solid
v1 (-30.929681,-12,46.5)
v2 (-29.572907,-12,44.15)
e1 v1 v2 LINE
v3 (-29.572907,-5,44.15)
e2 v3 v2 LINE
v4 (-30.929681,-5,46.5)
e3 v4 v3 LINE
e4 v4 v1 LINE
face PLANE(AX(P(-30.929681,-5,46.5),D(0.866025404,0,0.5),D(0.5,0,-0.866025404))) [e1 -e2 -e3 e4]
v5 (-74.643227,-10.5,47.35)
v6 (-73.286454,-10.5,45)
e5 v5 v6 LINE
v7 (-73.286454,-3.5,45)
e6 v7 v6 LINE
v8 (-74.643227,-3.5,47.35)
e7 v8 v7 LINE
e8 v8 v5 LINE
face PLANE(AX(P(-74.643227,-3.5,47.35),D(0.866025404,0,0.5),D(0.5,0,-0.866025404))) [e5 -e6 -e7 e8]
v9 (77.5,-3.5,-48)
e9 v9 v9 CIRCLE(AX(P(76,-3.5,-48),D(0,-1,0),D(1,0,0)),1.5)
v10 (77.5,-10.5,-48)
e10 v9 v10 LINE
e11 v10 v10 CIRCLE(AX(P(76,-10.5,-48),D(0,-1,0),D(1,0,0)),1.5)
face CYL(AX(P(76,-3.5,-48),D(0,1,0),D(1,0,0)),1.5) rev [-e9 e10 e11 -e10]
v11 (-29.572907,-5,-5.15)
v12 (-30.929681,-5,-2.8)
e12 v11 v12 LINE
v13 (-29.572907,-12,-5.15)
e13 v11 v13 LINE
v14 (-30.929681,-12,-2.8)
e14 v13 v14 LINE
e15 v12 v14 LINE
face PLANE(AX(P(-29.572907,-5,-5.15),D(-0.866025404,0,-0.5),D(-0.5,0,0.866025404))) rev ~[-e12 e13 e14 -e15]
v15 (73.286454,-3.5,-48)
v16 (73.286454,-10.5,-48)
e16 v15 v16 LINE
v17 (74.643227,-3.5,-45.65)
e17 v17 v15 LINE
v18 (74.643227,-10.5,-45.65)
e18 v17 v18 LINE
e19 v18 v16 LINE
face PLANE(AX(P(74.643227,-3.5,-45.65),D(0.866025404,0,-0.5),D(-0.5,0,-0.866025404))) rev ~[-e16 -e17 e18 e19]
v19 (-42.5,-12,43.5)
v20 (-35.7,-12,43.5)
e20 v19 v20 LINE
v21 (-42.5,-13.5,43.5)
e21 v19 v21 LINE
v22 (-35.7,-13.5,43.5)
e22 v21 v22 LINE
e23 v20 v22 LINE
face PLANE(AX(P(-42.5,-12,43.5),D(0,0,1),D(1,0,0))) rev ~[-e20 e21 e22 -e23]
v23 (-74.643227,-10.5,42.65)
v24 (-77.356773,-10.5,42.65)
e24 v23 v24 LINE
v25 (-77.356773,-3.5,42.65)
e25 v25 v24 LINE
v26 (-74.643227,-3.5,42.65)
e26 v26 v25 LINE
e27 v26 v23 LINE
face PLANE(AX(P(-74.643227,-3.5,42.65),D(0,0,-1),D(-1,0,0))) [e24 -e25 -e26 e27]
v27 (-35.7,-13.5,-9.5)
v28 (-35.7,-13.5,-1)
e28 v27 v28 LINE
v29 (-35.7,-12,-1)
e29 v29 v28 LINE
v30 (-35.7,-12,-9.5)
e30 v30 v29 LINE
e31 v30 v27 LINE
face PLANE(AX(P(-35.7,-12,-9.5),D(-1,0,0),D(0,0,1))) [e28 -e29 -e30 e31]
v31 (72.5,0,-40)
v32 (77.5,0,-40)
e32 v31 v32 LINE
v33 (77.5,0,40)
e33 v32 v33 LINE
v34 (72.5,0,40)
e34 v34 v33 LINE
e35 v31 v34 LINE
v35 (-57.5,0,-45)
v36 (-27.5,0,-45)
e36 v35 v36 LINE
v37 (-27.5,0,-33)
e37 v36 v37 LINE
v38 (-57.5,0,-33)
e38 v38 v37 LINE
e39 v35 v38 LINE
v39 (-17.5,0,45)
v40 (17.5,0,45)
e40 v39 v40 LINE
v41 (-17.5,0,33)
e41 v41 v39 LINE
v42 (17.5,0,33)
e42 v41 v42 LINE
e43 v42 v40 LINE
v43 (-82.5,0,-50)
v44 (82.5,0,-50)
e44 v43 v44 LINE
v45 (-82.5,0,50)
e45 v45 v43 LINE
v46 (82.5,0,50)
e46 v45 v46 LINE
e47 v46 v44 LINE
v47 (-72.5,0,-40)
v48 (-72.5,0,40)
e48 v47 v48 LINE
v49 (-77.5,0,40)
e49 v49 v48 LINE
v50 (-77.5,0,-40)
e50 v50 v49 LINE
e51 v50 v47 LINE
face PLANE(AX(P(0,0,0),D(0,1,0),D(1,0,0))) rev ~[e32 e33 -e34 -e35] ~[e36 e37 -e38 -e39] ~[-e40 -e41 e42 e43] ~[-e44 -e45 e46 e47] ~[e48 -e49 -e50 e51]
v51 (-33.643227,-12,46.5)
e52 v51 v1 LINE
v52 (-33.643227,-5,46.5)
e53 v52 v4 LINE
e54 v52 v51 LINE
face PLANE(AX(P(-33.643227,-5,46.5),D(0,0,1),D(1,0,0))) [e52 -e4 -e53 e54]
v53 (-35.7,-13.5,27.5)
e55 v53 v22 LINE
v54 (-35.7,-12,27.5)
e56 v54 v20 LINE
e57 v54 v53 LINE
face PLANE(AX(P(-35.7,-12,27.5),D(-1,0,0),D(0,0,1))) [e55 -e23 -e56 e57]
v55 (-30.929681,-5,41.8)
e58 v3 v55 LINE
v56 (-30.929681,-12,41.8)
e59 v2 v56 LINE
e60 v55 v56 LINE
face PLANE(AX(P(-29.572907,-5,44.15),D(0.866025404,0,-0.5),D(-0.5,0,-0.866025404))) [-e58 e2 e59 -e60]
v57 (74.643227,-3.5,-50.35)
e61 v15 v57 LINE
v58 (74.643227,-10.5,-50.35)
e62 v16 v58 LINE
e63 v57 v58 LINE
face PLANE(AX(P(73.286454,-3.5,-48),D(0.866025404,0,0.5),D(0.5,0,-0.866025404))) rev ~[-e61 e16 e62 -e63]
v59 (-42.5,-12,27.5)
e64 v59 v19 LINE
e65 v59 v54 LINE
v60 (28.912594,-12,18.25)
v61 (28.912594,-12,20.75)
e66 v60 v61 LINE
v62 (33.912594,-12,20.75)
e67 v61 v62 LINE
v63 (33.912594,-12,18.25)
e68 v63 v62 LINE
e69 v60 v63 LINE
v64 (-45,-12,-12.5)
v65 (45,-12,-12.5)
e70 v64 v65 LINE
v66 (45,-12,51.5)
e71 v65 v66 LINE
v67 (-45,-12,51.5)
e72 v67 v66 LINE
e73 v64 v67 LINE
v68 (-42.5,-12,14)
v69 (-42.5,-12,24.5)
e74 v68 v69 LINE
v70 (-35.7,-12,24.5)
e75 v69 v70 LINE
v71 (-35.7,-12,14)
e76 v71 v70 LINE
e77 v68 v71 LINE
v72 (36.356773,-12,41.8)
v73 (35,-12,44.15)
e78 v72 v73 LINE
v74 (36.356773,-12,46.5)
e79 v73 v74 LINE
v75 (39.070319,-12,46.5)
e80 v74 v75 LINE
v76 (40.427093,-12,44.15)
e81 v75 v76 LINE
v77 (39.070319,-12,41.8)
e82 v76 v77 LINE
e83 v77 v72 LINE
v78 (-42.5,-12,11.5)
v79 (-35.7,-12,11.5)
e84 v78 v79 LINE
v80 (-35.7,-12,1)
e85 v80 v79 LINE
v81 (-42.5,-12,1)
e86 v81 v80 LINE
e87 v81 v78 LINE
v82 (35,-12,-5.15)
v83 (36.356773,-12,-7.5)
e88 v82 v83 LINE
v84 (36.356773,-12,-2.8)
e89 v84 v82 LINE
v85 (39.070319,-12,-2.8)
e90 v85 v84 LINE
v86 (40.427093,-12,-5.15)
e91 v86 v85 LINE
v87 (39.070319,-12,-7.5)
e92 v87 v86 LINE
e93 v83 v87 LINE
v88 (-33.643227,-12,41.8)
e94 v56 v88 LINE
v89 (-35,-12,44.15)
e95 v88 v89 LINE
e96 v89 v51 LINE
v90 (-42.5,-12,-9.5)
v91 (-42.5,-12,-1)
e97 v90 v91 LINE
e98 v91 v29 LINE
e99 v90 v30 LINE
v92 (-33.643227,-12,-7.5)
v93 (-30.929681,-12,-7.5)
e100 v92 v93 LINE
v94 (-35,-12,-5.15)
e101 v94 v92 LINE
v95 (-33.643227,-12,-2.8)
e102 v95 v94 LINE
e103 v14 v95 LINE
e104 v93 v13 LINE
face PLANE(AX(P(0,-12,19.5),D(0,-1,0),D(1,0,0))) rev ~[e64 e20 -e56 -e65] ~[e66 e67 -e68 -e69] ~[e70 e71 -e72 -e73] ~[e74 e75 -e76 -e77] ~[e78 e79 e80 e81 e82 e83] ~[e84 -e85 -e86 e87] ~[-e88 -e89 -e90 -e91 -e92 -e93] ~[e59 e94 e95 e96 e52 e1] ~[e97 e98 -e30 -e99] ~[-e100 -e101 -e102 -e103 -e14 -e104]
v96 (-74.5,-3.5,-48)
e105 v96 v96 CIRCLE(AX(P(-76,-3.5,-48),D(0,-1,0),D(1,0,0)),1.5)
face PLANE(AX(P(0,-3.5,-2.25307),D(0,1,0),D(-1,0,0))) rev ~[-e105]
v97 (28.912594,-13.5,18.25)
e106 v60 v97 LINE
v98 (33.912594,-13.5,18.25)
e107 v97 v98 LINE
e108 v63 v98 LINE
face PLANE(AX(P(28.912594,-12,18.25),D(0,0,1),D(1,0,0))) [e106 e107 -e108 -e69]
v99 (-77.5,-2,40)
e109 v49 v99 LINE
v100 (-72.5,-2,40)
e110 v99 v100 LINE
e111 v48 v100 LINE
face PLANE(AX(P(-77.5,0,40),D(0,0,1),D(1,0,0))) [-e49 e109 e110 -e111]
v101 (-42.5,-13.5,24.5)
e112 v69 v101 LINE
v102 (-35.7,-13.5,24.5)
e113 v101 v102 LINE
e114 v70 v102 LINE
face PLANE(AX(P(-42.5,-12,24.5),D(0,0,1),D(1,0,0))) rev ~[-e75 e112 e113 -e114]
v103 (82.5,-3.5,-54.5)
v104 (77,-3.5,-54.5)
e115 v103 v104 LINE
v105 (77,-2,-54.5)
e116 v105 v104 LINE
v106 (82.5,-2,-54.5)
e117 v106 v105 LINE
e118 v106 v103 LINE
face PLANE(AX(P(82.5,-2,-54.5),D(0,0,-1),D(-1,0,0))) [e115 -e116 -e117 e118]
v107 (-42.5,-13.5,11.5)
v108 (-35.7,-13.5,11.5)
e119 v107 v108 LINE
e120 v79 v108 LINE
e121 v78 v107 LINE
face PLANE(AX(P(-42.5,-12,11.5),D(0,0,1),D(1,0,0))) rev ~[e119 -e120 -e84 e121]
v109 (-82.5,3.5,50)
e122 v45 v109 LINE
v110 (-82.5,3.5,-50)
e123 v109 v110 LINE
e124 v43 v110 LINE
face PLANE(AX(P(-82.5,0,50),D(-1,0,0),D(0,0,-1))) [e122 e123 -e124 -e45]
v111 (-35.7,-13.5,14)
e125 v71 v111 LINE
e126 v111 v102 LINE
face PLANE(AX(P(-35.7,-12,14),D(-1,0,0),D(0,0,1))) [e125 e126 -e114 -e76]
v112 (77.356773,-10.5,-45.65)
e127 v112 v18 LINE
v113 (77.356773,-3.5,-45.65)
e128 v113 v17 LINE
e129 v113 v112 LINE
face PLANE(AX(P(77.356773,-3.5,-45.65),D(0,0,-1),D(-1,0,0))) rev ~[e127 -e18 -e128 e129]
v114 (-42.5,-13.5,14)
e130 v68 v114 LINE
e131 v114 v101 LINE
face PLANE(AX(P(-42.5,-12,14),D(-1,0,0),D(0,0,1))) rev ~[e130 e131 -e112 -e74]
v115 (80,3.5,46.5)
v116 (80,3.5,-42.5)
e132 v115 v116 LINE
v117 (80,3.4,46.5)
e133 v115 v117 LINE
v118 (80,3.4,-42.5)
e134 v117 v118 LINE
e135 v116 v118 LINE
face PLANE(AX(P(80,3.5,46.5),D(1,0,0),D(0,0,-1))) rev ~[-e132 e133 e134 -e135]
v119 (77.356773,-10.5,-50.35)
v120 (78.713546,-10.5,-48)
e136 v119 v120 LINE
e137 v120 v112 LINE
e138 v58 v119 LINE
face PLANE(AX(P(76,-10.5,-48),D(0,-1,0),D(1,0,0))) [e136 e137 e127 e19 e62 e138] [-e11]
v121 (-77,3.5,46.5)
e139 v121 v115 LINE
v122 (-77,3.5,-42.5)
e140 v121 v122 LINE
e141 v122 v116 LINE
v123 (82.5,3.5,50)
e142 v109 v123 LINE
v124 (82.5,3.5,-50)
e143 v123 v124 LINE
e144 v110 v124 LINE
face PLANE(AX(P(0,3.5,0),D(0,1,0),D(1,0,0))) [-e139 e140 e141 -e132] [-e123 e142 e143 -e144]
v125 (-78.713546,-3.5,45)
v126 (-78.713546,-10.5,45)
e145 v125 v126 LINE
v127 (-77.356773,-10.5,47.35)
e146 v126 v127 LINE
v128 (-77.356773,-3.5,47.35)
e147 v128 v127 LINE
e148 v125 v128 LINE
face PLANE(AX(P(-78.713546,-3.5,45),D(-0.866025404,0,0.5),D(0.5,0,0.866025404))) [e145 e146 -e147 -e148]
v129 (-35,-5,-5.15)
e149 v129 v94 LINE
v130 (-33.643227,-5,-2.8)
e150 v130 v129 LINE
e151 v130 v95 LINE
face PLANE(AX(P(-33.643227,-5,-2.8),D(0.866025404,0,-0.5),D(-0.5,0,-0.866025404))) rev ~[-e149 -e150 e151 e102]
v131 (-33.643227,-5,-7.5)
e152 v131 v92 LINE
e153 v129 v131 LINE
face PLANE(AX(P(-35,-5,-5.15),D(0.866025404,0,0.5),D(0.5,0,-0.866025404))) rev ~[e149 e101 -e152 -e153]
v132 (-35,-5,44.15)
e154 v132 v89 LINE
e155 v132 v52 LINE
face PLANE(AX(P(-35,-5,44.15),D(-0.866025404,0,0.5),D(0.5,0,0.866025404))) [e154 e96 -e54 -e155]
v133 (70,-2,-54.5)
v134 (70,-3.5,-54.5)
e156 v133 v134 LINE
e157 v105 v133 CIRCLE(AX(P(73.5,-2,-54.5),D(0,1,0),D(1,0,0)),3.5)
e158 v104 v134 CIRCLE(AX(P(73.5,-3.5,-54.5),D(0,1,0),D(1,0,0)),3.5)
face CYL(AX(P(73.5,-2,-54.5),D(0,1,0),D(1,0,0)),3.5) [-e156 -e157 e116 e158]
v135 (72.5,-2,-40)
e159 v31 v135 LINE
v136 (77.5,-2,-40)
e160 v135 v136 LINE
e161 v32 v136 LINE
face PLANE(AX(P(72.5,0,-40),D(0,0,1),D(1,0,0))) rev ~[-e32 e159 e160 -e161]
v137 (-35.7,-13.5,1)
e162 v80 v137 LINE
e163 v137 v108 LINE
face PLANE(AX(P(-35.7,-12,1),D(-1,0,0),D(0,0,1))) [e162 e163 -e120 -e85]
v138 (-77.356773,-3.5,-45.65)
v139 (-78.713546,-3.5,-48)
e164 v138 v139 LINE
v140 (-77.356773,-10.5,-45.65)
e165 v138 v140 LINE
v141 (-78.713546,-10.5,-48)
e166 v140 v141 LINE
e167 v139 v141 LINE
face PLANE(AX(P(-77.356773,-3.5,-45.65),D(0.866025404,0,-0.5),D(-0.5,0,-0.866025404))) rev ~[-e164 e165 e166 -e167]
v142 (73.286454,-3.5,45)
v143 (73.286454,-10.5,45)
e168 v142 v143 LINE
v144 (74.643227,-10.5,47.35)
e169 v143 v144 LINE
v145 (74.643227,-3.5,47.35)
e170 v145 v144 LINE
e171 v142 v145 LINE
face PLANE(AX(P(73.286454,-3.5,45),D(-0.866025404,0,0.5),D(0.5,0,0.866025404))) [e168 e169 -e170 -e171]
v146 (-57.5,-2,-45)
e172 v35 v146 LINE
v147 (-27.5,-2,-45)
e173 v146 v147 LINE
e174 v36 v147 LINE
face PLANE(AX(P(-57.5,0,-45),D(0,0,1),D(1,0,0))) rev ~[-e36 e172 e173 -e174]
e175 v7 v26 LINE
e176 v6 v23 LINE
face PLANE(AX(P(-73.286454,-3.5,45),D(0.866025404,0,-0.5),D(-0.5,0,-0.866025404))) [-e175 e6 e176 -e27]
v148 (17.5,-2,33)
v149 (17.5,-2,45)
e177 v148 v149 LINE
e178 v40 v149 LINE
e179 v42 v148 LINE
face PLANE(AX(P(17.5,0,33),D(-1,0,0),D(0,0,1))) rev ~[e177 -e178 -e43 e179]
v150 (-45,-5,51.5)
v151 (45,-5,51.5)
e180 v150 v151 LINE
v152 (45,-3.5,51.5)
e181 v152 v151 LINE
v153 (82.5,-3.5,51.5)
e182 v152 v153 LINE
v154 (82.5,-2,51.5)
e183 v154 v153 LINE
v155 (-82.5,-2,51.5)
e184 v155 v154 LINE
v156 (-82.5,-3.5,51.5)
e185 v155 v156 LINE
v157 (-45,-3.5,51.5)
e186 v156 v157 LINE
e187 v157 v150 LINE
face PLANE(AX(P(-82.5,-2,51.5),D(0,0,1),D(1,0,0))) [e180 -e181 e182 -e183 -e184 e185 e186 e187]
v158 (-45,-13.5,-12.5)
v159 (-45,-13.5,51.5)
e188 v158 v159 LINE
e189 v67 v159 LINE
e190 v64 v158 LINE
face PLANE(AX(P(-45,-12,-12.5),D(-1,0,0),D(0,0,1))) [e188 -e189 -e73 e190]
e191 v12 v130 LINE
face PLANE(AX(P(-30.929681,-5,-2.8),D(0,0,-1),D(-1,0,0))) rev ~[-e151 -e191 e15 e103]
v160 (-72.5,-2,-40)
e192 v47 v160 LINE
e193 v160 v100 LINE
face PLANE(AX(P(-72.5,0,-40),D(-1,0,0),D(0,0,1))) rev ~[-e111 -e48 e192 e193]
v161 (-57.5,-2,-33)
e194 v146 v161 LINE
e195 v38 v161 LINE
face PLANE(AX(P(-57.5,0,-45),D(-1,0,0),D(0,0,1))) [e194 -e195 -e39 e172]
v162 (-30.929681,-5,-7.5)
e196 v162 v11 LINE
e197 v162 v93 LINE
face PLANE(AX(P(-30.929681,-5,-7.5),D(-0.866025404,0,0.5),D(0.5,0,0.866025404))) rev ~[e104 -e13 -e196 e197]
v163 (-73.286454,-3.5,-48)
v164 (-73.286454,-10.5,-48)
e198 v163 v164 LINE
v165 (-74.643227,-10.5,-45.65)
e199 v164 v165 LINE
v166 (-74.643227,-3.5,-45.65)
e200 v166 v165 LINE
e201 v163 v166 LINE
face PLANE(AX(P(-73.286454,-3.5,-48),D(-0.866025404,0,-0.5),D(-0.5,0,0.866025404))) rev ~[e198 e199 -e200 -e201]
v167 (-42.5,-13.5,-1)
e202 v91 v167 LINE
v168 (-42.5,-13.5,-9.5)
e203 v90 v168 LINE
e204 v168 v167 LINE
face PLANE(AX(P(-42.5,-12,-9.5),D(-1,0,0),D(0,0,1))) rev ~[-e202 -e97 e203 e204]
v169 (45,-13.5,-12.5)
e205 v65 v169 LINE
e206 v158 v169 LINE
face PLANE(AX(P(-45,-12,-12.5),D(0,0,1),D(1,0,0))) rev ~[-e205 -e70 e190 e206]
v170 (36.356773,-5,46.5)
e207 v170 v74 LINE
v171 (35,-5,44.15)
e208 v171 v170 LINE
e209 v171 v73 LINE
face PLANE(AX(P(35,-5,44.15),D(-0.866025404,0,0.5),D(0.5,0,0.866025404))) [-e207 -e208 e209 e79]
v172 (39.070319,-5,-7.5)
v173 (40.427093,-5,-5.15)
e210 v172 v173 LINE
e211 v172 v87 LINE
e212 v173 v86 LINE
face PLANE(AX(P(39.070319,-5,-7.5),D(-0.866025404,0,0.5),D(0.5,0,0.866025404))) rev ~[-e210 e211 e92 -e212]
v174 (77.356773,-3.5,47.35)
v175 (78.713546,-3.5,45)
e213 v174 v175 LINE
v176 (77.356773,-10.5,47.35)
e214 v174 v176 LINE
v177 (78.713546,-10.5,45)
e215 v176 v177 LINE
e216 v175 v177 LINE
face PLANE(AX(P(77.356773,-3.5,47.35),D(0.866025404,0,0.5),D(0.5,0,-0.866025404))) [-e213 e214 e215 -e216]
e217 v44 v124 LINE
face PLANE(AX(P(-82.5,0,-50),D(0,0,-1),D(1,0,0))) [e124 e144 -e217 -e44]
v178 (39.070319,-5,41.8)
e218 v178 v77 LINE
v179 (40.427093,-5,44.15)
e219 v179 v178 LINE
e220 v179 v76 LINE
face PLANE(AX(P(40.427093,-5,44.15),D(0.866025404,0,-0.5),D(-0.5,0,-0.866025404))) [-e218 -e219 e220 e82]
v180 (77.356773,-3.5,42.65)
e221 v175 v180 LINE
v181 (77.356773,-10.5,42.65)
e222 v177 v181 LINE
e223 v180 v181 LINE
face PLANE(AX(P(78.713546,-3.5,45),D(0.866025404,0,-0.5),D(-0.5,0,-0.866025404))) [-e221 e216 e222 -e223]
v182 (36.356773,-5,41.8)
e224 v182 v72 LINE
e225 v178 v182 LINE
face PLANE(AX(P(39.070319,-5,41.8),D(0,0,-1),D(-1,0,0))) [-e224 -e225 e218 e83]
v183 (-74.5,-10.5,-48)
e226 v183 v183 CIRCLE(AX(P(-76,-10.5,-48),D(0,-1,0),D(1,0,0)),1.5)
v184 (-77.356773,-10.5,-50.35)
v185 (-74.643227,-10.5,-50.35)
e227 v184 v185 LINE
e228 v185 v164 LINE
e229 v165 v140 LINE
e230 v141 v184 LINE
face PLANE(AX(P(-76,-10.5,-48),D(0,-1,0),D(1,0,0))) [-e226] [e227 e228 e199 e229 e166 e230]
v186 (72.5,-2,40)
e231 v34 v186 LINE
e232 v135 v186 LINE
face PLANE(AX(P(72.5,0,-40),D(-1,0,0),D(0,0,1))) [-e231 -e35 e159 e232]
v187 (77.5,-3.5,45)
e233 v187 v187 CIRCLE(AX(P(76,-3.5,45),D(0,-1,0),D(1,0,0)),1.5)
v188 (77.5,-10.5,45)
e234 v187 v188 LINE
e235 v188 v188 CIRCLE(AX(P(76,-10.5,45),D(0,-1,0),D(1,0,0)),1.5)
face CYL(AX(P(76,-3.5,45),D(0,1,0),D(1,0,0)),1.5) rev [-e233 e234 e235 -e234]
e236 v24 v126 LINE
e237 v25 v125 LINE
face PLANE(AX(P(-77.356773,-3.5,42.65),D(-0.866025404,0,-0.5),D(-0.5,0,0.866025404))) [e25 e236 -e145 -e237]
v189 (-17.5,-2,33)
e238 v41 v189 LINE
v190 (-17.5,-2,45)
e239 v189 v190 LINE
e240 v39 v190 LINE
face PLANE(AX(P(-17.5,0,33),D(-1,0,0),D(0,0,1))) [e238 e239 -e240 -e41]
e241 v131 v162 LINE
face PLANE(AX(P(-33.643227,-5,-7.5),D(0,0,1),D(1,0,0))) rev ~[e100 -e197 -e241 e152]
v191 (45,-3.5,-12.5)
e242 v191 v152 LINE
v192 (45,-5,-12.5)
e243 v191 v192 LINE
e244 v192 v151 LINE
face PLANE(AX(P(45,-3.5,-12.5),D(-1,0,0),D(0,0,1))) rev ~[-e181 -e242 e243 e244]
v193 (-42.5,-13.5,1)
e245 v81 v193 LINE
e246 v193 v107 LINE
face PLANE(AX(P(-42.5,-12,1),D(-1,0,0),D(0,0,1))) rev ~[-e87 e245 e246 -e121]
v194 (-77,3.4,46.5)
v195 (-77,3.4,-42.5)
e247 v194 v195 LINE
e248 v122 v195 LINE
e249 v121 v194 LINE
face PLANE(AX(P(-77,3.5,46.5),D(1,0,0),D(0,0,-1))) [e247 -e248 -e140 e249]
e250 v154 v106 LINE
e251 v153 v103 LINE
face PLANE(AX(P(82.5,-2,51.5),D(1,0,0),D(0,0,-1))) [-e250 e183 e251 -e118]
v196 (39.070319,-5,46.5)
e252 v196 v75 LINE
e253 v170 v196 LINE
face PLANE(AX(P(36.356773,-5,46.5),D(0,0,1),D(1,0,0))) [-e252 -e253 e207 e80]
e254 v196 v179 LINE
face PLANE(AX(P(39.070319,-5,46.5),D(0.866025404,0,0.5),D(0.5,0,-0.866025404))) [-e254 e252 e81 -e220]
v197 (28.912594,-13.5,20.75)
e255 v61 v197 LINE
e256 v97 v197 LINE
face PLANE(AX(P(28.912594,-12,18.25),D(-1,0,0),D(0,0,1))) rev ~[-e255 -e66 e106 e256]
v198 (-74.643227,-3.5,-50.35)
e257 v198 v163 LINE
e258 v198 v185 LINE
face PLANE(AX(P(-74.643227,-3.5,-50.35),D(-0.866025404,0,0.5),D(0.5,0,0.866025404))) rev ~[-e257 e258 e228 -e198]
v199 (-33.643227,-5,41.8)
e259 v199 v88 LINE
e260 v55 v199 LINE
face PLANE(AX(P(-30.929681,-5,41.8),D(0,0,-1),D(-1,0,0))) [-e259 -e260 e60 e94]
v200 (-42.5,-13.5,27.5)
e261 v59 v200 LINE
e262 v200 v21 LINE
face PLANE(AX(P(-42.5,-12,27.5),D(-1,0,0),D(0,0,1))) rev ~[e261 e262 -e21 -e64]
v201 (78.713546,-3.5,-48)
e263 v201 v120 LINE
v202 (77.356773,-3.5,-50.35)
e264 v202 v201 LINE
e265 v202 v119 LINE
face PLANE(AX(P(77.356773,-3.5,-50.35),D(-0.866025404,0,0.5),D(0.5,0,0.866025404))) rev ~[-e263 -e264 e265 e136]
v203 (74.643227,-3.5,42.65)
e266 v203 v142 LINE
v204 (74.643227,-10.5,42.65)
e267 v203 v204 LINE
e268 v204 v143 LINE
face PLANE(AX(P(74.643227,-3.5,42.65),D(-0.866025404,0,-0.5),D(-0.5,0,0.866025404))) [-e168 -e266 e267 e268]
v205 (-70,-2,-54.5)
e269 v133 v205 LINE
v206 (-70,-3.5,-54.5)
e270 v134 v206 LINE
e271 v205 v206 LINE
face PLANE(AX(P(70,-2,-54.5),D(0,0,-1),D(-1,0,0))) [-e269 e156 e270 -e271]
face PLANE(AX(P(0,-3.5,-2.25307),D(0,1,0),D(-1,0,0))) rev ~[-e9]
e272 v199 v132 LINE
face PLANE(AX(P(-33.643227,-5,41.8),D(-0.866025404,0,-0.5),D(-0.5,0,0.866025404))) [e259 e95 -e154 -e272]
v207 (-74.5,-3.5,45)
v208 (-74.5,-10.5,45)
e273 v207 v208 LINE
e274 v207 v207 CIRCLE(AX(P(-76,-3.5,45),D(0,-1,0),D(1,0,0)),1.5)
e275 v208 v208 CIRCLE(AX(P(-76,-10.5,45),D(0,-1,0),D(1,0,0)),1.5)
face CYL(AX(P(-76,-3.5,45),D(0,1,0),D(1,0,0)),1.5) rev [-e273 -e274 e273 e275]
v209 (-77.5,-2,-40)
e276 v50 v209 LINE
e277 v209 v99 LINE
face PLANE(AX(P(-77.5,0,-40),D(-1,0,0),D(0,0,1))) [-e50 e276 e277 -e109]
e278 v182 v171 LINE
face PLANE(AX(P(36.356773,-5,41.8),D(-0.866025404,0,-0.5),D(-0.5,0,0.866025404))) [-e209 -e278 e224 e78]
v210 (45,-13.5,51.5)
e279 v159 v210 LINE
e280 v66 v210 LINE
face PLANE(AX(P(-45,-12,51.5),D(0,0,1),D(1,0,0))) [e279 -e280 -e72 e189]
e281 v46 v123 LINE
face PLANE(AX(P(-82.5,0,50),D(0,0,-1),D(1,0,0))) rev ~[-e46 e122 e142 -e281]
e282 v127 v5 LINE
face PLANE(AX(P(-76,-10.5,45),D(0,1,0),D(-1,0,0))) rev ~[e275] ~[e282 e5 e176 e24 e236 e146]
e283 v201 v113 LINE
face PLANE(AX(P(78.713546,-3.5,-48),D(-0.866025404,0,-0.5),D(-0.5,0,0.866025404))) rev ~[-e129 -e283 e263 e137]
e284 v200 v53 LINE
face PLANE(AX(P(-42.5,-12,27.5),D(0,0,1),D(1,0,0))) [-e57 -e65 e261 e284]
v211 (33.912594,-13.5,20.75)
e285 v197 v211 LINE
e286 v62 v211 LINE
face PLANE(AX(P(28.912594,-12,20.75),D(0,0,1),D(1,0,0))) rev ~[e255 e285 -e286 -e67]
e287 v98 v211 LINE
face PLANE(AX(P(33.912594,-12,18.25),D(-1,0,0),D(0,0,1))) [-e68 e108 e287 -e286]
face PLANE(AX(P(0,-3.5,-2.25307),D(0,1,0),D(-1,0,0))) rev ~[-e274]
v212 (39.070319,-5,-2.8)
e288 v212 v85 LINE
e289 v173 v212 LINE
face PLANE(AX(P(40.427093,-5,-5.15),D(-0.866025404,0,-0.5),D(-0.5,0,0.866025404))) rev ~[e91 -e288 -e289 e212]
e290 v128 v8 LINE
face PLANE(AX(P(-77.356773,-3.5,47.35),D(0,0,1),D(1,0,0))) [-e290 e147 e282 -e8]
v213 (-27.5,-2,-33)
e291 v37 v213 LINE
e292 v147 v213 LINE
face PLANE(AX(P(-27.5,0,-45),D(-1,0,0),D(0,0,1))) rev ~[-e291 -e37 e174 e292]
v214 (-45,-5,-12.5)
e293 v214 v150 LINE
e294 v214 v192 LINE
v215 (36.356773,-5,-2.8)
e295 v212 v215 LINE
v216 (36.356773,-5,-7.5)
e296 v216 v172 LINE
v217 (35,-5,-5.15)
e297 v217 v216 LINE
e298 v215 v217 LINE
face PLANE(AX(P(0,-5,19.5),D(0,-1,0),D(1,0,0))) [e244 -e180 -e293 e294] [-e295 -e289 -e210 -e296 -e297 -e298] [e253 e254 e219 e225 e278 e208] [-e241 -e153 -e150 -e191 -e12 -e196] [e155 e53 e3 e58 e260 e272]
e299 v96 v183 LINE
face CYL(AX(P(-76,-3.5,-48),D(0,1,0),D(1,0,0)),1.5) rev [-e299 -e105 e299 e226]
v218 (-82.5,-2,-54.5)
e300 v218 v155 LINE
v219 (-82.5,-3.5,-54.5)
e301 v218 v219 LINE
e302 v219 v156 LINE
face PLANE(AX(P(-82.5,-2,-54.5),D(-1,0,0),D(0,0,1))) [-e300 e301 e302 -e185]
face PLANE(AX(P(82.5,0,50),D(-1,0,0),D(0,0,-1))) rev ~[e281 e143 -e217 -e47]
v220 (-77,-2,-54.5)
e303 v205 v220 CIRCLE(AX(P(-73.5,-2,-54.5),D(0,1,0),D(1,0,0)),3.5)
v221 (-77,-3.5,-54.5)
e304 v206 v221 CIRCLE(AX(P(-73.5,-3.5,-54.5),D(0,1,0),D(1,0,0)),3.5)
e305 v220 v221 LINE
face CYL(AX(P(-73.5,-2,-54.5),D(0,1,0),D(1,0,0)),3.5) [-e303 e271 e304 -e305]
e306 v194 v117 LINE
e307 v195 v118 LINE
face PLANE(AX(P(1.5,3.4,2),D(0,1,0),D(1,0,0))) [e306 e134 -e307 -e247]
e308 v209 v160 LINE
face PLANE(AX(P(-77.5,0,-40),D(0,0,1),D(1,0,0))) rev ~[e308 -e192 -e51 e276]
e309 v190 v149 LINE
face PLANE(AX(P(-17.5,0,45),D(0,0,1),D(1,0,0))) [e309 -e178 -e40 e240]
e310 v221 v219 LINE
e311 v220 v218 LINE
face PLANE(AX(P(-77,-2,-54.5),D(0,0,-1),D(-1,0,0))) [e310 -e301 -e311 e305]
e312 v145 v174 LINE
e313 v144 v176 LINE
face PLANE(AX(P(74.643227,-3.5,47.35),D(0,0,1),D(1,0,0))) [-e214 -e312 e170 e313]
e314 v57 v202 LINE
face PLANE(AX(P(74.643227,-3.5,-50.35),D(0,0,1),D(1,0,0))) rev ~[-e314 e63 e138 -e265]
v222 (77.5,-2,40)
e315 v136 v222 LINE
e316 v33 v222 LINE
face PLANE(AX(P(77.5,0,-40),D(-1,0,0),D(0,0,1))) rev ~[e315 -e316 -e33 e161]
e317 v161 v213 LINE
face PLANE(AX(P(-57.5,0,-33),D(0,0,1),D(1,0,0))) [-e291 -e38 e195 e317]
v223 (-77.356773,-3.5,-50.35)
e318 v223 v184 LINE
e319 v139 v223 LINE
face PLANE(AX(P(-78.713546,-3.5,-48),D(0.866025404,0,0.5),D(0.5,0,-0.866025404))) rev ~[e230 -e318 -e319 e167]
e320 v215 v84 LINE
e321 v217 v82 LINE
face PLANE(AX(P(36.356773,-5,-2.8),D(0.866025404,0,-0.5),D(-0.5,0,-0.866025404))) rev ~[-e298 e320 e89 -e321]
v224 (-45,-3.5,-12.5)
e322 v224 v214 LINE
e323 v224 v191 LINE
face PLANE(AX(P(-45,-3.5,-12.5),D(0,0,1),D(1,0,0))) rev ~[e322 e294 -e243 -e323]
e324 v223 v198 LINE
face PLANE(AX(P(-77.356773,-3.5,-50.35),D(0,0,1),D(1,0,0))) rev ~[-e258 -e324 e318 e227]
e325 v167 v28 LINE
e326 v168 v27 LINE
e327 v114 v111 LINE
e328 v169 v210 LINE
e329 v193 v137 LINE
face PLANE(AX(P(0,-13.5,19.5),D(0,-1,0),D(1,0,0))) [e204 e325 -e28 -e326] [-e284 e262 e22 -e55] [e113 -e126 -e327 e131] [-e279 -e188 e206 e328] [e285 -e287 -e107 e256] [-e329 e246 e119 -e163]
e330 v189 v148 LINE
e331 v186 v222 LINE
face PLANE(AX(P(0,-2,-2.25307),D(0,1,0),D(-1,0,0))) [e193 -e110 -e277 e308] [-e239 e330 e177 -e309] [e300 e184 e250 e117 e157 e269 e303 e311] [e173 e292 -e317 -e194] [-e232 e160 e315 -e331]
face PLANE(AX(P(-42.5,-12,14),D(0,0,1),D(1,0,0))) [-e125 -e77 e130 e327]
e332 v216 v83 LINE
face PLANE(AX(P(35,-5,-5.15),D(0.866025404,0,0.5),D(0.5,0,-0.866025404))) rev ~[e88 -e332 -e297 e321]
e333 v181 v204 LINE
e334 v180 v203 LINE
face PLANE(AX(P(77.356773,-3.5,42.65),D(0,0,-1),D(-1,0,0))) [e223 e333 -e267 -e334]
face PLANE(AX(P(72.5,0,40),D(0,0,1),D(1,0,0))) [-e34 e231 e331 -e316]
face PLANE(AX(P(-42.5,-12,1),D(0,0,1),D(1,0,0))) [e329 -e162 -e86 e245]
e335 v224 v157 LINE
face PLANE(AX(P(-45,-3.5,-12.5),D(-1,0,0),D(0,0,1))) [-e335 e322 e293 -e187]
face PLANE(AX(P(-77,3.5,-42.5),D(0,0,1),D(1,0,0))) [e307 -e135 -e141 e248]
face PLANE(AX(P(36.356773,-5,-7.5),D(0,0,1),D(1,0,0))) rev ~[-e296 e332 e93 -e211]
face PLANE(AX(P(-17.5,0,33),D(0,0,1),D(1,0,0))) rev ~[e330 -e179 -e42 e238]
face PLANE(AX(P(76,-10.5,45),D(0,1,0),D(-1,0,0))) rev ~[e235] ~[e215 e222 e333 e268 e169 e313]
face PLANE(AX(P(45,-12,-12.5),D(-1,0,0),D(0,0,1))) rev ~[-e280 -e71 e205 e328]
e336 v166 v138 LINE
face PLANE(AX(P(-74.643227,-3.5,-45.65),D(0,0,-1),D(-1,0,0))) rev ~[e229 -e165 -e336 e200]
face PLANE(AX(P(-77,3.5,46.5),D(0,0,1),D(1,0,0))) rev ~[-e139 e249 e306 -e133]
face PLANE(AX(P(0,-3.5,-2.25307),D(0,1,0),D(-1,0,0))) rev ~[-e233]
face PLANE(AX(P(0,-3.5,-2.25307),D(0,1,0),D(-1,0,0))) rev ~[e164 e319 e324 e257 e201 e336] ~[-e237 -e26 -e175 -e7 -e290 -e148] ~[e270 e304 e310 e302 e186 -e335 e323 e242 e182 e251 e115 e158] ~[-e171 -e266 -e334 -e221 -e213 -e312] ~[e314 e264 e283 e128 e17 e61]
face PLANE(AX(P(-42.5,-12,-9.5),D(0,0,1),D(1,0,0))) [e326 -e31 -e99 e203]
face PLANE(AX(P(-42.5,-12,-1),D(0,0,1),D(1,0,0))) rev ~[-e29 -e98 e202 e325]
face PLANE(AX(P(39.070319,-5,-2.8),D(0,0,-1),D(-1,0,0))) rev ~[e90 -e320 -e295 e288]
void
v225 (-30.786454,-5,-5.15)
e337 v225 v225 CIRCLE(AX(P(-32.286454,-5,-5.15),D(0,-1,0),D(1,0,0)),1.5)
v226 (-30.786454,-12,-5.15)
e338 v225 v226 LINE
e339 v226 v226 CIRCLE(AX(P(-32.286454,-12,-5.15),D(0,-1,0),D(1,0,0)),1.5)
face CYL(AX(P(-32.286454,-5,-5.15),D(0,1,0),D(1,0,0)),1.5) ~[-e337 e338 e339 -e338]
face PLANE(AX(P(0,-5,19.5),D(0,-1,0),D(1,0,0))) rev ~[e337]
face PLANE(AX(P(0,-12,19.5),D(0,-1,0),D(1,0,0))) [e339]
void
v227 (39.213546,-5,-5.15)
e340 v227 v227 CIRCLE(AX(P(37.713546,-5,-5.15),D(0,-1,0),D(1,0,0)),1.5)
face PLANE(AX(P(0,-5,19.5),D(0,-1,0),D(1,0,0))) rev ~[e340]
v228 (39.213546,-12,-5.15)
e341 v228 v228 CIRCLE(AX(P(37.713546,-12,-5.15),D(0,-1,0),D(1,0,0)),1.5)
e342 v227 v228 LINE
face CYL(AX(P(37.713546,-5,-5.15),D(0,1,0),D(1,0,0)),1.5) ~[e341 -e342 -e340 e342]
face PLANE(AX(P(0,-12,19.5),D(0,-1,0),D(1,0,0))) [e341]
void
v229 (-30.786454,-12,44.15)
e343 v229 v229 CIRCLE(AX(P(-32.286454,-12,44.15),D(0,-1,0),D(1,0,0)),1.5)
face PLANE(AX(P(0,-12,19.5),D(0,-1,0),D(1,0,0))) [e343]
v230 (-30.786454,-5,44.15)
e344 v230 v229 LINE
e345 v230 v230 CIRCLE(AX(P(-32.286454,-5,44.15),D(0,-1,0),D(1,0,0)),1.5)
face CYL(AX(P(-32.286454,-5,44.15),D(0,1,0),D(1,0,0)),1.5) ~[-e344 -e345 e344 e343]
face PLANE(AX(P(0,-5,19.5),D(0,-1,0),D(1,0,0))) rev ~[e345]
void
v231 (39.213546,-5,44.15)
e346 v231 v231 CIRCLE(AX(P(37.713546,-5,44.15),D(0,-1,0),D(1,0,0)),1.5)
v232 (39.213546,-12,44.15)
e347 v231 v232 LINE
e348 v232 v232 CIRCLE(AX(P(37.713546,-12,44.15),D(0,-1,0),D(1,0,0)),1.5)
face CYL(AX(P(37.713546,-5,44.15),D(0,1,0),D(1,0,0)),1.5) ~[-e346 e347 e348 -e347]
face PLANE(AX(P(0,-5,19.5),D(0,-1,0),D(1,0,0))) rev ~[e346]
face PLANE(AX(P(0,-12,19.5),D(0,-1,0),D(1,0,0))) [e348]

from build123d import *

# Parameters (mm, degrees)
SKETCH_1_W          = 165
SKETCH_1_H          = 100
EXTRUDE_1_DEPTH     = 3.5
SKETCH_2_W          = 35
SKETCH_2_H          = 12
SKETCH_2_W_2        = 5
SKETCH_2_H_2        = 80
SKETCH_2_W_3        = 30
EXTRUDE_2_DEPTH     = 2
EXTRUDE_3_DEPTH     = 1.5
SKETCH_4_W          = 90
SKETCH_4_H          = 64
EXTRUDE_4_DEPTH     = 1.5
SKETCH_5_R          = 1.5
EXTRUDE_5_DEPTH     = 7
SKETCH_6_W          = 90
SKETCH_6_H          = 64
SKETCH_6_W_2        = 6.8
SKETCH_6_H_2        = 16
SKETCH_6_H_3        = 10.5
SKETCH_6_H_4        = 8.5
SKETCH_6_W_3        = 5
SKETCH_6_H_5        = 2.5
EXTRUDE_6_DEPTH     = 1.5
SKETCH_7_R          = 1.5
EXTRUDE_7_DEPTH     = 7
SKETCH_8_W          = 157
SKETCH_8_H          = 89
CUT_EXTRUDE_1_DEPTH = 0.1


with BuildPart() as part:
    # 草图1 → 凸台-拉伸1 (new body)
    with BuildSketch(Plane(origin=(0, 0, 0), x_dir=(1, 0, 0), z_dir=(0, 1, 0))):
        Rectangle(SKETCH_1_W, SKETCH_1_H)
    extrude(amount=EXTRUDE_1_DEPTH)

    # 草图2 → 凸台-拉伸2 (add)
    with BuildSketch(Plane.XZ):
        with Locations((0, 39)):
            Rectangle(SKETCH_2_W, SKETCH_2_H)
        with Locations((-75, 0)):
            Rectangle(SKETCH_2_W_2, SKETCH_2_H_2)
        with Locations((75, 0)):
            Rectangle(SKETCH_2_W_2, SKETCH_2_H_2)
        with Locations((-42.5, -39)):
            Rectangle(SKETCH_2_W_3, SKETCH_2_H)
    extrude(amount=EXTRUDE_2_DEPTH)

    # 草图3 → 凸台-拉伸3 (add)
    with BuildSketch(Plane.XZ.offset(2)):
        with BuildLine():
            Line((82.5, -54.5), (77, -54.5))
            ThreePointArc((77, -54.5), (73.5, -58), (70, -54.5))
            Line((70, -54.5), (-70, -54.5))
            ThreePointArc((-70, -54.5), (-73.5, -58), (-77, -54.5))
            Line((-77, -54.5), (-82.5, -54.5))
            Line((-82.5, -54.5), (-82.5, 51.5))
            Line((-82.5, 51.5), (82.5, 51.5))
            Line((82.5, 51.5), (82.5, -54.5))
        make_face()
    extrude(amount=EXTRUDE_3_DEPTH)

    # 草图4 → 凸台-拉伸4 (add)
    with BuildSketch(Plane.XZ.offset(3.5)):
        with Locations((0, 19.5)):
            Rectangle(SKETCH_4_W, SKETCH_4_H)
    extrude(amount=EXTRUDE_4_DEPTH)

    # 草图5 → 凸台-拉伸5 (add)
    with BuildSketch(Plane.XZ.offset(5)):
        Polygon((-33.643226867, 46.5), (-30.929680602, 46.5), (-29.57290747, 44.15), (-30.929680602, 41.8), (-33.643226867, 41.8), (-35, 44.15), align=None)
        with Locations((-32.286453735, 44.15)):
            Circle(SKETCH_5_R, mode=Mode.SUBTRACT)
        Polygon((35, 44.15), (36.356773133, 46.5), (39.070319398, 46.5), (40.42709253, 44.15), (39.070319398, 41.8), (36.356773133, 41.8), align=None)
        with Locations((37.713546265, 44.15)):
            Circle(SKETCH_5_R, mode=Mode.SUBTRACT)
        Polygon((36.356773133, -2.8), (35, -5.15), (36.356773133, -7.5), (39.070319398, -7.5), (40.42709253, -5.15), (39.070319398, -2.8), align=None)
        with Locations((37.713546265, -5.15)):
            Circle(SKETCH_5_R, mode=Mode.SUBTRACT)
        Polygon((-33.643226867, -2.8), (-35, -5.15), (-33.643226867, -7.5), (-30.929680602, -7.5), (-29.57290747, -5.15), (-30.929680602, -2.8), align=None)
        with Locations((-32.286453735, -5.15)):
            Circle(SKETCH_5_R, mode=Mode.SUBTRACT)
    extrude(amount=EXTRUDE_5_DEPTH)

    # 草图6 → 凸台-拉伸6 (add)
    with BuildSketch(Plane.XZ.offset(12)):
        with Locations((0, 19.5)):
            Rectangle(SKETCH_6_W, SKETCH_6_H)
        with Locations((-39.1, 35.5)):
            Rectangle(SKETCH_6_W_2, SKETCH_6_H_2, mode=Mode.SUBTRACT)
        with Locations((-39.1, 19.25)):
            Rectangle(SKETCH_6_W_2, SKETCH_6_H_3, mode=Mode.SUBTRACT)
        with Locations((-39.1, 6.25)):
            Rectangle(SKETCH_6_W_2, SKETCH_6_H_3, mode=Mode.SUBTRACT)
        with Locations((-39.1, -5.25)):
            Rectangle(SKETCH_6_W_2, SKETCH_6_H_4, mode=Mode.SUBTRACT)
        with Locations((31.412593709, 19.5)):
            Rectangle(SKETCH_6_W_3, SKETCH_6_H_5, mode=Mode.SUBTRACT)
    extrude(amount=EXTRUDE_6_DEPTH)

    # 草图7 → 凸台-拉伸7 (add)
    with BuildSketch(Plane.XZ.offset(3.5)):
        Polygon((-77.356773133, 47.35), (-74.643226867, 47.35), (-73.286453735, 45), (-74.643226867, 42.65), (-77.356773133, 42.65), (-78.713546265, 45), align=None)
        with Locations((-76, 45)):
            Circle(SKETCH_7_R, mode=Mode.SUBTRACT)
        Polygon((73.286453735, 45), (74.643226867, 47.35), (77.356773133, 47.35), (78.713546265, 45), (77.356773133, 42.65), (74.643226867, 42.65), align=None)
        with Locations((76, 45)):
            Circle(SKETCH_7_R, mode=Mode.SUBTRACT)
        Polygon((74.643226867, -45.65), (73.286453735, -48), (74.643226867, -50.35), (77.356773133, -50.35), (78.713546265, -48), (77.356773133, -45.65), align=None)
        with Locations((76, -48)):
            Circle(SKETCH_7_R, mode=Mode.SUBTRACT)
        Polygon((-77.356773133, -45.65), (-78.713546265, -48), (-77.356773133, -50.35), (-74.643226867, -50.35), (-73.286453735, -48), (-74.643226867, -45.65), align=None)
        with Locations((-76, -48)):
            Circle(SKETCH_7_R, mode=Mode.SUBTRACT)
    extrude(amount=EXTRUDE_7_DEPTH)

    # 草图8 → 切除-拉伸1 (cut)
    with BuildSketch(Plane(origin=(0, 3.5, 0), x_dir=(1, 0, 0), z_dir=(0, 1, 0))):
        with Locations((1.5, -2)):
            Rectangle(SKETCH_8_W, SKETCH_8_H)
    extrude(amount=-CUT_EXTRUDE_1_DEPTH, mode=Mode.SUBTRACT)


solid = part.part
